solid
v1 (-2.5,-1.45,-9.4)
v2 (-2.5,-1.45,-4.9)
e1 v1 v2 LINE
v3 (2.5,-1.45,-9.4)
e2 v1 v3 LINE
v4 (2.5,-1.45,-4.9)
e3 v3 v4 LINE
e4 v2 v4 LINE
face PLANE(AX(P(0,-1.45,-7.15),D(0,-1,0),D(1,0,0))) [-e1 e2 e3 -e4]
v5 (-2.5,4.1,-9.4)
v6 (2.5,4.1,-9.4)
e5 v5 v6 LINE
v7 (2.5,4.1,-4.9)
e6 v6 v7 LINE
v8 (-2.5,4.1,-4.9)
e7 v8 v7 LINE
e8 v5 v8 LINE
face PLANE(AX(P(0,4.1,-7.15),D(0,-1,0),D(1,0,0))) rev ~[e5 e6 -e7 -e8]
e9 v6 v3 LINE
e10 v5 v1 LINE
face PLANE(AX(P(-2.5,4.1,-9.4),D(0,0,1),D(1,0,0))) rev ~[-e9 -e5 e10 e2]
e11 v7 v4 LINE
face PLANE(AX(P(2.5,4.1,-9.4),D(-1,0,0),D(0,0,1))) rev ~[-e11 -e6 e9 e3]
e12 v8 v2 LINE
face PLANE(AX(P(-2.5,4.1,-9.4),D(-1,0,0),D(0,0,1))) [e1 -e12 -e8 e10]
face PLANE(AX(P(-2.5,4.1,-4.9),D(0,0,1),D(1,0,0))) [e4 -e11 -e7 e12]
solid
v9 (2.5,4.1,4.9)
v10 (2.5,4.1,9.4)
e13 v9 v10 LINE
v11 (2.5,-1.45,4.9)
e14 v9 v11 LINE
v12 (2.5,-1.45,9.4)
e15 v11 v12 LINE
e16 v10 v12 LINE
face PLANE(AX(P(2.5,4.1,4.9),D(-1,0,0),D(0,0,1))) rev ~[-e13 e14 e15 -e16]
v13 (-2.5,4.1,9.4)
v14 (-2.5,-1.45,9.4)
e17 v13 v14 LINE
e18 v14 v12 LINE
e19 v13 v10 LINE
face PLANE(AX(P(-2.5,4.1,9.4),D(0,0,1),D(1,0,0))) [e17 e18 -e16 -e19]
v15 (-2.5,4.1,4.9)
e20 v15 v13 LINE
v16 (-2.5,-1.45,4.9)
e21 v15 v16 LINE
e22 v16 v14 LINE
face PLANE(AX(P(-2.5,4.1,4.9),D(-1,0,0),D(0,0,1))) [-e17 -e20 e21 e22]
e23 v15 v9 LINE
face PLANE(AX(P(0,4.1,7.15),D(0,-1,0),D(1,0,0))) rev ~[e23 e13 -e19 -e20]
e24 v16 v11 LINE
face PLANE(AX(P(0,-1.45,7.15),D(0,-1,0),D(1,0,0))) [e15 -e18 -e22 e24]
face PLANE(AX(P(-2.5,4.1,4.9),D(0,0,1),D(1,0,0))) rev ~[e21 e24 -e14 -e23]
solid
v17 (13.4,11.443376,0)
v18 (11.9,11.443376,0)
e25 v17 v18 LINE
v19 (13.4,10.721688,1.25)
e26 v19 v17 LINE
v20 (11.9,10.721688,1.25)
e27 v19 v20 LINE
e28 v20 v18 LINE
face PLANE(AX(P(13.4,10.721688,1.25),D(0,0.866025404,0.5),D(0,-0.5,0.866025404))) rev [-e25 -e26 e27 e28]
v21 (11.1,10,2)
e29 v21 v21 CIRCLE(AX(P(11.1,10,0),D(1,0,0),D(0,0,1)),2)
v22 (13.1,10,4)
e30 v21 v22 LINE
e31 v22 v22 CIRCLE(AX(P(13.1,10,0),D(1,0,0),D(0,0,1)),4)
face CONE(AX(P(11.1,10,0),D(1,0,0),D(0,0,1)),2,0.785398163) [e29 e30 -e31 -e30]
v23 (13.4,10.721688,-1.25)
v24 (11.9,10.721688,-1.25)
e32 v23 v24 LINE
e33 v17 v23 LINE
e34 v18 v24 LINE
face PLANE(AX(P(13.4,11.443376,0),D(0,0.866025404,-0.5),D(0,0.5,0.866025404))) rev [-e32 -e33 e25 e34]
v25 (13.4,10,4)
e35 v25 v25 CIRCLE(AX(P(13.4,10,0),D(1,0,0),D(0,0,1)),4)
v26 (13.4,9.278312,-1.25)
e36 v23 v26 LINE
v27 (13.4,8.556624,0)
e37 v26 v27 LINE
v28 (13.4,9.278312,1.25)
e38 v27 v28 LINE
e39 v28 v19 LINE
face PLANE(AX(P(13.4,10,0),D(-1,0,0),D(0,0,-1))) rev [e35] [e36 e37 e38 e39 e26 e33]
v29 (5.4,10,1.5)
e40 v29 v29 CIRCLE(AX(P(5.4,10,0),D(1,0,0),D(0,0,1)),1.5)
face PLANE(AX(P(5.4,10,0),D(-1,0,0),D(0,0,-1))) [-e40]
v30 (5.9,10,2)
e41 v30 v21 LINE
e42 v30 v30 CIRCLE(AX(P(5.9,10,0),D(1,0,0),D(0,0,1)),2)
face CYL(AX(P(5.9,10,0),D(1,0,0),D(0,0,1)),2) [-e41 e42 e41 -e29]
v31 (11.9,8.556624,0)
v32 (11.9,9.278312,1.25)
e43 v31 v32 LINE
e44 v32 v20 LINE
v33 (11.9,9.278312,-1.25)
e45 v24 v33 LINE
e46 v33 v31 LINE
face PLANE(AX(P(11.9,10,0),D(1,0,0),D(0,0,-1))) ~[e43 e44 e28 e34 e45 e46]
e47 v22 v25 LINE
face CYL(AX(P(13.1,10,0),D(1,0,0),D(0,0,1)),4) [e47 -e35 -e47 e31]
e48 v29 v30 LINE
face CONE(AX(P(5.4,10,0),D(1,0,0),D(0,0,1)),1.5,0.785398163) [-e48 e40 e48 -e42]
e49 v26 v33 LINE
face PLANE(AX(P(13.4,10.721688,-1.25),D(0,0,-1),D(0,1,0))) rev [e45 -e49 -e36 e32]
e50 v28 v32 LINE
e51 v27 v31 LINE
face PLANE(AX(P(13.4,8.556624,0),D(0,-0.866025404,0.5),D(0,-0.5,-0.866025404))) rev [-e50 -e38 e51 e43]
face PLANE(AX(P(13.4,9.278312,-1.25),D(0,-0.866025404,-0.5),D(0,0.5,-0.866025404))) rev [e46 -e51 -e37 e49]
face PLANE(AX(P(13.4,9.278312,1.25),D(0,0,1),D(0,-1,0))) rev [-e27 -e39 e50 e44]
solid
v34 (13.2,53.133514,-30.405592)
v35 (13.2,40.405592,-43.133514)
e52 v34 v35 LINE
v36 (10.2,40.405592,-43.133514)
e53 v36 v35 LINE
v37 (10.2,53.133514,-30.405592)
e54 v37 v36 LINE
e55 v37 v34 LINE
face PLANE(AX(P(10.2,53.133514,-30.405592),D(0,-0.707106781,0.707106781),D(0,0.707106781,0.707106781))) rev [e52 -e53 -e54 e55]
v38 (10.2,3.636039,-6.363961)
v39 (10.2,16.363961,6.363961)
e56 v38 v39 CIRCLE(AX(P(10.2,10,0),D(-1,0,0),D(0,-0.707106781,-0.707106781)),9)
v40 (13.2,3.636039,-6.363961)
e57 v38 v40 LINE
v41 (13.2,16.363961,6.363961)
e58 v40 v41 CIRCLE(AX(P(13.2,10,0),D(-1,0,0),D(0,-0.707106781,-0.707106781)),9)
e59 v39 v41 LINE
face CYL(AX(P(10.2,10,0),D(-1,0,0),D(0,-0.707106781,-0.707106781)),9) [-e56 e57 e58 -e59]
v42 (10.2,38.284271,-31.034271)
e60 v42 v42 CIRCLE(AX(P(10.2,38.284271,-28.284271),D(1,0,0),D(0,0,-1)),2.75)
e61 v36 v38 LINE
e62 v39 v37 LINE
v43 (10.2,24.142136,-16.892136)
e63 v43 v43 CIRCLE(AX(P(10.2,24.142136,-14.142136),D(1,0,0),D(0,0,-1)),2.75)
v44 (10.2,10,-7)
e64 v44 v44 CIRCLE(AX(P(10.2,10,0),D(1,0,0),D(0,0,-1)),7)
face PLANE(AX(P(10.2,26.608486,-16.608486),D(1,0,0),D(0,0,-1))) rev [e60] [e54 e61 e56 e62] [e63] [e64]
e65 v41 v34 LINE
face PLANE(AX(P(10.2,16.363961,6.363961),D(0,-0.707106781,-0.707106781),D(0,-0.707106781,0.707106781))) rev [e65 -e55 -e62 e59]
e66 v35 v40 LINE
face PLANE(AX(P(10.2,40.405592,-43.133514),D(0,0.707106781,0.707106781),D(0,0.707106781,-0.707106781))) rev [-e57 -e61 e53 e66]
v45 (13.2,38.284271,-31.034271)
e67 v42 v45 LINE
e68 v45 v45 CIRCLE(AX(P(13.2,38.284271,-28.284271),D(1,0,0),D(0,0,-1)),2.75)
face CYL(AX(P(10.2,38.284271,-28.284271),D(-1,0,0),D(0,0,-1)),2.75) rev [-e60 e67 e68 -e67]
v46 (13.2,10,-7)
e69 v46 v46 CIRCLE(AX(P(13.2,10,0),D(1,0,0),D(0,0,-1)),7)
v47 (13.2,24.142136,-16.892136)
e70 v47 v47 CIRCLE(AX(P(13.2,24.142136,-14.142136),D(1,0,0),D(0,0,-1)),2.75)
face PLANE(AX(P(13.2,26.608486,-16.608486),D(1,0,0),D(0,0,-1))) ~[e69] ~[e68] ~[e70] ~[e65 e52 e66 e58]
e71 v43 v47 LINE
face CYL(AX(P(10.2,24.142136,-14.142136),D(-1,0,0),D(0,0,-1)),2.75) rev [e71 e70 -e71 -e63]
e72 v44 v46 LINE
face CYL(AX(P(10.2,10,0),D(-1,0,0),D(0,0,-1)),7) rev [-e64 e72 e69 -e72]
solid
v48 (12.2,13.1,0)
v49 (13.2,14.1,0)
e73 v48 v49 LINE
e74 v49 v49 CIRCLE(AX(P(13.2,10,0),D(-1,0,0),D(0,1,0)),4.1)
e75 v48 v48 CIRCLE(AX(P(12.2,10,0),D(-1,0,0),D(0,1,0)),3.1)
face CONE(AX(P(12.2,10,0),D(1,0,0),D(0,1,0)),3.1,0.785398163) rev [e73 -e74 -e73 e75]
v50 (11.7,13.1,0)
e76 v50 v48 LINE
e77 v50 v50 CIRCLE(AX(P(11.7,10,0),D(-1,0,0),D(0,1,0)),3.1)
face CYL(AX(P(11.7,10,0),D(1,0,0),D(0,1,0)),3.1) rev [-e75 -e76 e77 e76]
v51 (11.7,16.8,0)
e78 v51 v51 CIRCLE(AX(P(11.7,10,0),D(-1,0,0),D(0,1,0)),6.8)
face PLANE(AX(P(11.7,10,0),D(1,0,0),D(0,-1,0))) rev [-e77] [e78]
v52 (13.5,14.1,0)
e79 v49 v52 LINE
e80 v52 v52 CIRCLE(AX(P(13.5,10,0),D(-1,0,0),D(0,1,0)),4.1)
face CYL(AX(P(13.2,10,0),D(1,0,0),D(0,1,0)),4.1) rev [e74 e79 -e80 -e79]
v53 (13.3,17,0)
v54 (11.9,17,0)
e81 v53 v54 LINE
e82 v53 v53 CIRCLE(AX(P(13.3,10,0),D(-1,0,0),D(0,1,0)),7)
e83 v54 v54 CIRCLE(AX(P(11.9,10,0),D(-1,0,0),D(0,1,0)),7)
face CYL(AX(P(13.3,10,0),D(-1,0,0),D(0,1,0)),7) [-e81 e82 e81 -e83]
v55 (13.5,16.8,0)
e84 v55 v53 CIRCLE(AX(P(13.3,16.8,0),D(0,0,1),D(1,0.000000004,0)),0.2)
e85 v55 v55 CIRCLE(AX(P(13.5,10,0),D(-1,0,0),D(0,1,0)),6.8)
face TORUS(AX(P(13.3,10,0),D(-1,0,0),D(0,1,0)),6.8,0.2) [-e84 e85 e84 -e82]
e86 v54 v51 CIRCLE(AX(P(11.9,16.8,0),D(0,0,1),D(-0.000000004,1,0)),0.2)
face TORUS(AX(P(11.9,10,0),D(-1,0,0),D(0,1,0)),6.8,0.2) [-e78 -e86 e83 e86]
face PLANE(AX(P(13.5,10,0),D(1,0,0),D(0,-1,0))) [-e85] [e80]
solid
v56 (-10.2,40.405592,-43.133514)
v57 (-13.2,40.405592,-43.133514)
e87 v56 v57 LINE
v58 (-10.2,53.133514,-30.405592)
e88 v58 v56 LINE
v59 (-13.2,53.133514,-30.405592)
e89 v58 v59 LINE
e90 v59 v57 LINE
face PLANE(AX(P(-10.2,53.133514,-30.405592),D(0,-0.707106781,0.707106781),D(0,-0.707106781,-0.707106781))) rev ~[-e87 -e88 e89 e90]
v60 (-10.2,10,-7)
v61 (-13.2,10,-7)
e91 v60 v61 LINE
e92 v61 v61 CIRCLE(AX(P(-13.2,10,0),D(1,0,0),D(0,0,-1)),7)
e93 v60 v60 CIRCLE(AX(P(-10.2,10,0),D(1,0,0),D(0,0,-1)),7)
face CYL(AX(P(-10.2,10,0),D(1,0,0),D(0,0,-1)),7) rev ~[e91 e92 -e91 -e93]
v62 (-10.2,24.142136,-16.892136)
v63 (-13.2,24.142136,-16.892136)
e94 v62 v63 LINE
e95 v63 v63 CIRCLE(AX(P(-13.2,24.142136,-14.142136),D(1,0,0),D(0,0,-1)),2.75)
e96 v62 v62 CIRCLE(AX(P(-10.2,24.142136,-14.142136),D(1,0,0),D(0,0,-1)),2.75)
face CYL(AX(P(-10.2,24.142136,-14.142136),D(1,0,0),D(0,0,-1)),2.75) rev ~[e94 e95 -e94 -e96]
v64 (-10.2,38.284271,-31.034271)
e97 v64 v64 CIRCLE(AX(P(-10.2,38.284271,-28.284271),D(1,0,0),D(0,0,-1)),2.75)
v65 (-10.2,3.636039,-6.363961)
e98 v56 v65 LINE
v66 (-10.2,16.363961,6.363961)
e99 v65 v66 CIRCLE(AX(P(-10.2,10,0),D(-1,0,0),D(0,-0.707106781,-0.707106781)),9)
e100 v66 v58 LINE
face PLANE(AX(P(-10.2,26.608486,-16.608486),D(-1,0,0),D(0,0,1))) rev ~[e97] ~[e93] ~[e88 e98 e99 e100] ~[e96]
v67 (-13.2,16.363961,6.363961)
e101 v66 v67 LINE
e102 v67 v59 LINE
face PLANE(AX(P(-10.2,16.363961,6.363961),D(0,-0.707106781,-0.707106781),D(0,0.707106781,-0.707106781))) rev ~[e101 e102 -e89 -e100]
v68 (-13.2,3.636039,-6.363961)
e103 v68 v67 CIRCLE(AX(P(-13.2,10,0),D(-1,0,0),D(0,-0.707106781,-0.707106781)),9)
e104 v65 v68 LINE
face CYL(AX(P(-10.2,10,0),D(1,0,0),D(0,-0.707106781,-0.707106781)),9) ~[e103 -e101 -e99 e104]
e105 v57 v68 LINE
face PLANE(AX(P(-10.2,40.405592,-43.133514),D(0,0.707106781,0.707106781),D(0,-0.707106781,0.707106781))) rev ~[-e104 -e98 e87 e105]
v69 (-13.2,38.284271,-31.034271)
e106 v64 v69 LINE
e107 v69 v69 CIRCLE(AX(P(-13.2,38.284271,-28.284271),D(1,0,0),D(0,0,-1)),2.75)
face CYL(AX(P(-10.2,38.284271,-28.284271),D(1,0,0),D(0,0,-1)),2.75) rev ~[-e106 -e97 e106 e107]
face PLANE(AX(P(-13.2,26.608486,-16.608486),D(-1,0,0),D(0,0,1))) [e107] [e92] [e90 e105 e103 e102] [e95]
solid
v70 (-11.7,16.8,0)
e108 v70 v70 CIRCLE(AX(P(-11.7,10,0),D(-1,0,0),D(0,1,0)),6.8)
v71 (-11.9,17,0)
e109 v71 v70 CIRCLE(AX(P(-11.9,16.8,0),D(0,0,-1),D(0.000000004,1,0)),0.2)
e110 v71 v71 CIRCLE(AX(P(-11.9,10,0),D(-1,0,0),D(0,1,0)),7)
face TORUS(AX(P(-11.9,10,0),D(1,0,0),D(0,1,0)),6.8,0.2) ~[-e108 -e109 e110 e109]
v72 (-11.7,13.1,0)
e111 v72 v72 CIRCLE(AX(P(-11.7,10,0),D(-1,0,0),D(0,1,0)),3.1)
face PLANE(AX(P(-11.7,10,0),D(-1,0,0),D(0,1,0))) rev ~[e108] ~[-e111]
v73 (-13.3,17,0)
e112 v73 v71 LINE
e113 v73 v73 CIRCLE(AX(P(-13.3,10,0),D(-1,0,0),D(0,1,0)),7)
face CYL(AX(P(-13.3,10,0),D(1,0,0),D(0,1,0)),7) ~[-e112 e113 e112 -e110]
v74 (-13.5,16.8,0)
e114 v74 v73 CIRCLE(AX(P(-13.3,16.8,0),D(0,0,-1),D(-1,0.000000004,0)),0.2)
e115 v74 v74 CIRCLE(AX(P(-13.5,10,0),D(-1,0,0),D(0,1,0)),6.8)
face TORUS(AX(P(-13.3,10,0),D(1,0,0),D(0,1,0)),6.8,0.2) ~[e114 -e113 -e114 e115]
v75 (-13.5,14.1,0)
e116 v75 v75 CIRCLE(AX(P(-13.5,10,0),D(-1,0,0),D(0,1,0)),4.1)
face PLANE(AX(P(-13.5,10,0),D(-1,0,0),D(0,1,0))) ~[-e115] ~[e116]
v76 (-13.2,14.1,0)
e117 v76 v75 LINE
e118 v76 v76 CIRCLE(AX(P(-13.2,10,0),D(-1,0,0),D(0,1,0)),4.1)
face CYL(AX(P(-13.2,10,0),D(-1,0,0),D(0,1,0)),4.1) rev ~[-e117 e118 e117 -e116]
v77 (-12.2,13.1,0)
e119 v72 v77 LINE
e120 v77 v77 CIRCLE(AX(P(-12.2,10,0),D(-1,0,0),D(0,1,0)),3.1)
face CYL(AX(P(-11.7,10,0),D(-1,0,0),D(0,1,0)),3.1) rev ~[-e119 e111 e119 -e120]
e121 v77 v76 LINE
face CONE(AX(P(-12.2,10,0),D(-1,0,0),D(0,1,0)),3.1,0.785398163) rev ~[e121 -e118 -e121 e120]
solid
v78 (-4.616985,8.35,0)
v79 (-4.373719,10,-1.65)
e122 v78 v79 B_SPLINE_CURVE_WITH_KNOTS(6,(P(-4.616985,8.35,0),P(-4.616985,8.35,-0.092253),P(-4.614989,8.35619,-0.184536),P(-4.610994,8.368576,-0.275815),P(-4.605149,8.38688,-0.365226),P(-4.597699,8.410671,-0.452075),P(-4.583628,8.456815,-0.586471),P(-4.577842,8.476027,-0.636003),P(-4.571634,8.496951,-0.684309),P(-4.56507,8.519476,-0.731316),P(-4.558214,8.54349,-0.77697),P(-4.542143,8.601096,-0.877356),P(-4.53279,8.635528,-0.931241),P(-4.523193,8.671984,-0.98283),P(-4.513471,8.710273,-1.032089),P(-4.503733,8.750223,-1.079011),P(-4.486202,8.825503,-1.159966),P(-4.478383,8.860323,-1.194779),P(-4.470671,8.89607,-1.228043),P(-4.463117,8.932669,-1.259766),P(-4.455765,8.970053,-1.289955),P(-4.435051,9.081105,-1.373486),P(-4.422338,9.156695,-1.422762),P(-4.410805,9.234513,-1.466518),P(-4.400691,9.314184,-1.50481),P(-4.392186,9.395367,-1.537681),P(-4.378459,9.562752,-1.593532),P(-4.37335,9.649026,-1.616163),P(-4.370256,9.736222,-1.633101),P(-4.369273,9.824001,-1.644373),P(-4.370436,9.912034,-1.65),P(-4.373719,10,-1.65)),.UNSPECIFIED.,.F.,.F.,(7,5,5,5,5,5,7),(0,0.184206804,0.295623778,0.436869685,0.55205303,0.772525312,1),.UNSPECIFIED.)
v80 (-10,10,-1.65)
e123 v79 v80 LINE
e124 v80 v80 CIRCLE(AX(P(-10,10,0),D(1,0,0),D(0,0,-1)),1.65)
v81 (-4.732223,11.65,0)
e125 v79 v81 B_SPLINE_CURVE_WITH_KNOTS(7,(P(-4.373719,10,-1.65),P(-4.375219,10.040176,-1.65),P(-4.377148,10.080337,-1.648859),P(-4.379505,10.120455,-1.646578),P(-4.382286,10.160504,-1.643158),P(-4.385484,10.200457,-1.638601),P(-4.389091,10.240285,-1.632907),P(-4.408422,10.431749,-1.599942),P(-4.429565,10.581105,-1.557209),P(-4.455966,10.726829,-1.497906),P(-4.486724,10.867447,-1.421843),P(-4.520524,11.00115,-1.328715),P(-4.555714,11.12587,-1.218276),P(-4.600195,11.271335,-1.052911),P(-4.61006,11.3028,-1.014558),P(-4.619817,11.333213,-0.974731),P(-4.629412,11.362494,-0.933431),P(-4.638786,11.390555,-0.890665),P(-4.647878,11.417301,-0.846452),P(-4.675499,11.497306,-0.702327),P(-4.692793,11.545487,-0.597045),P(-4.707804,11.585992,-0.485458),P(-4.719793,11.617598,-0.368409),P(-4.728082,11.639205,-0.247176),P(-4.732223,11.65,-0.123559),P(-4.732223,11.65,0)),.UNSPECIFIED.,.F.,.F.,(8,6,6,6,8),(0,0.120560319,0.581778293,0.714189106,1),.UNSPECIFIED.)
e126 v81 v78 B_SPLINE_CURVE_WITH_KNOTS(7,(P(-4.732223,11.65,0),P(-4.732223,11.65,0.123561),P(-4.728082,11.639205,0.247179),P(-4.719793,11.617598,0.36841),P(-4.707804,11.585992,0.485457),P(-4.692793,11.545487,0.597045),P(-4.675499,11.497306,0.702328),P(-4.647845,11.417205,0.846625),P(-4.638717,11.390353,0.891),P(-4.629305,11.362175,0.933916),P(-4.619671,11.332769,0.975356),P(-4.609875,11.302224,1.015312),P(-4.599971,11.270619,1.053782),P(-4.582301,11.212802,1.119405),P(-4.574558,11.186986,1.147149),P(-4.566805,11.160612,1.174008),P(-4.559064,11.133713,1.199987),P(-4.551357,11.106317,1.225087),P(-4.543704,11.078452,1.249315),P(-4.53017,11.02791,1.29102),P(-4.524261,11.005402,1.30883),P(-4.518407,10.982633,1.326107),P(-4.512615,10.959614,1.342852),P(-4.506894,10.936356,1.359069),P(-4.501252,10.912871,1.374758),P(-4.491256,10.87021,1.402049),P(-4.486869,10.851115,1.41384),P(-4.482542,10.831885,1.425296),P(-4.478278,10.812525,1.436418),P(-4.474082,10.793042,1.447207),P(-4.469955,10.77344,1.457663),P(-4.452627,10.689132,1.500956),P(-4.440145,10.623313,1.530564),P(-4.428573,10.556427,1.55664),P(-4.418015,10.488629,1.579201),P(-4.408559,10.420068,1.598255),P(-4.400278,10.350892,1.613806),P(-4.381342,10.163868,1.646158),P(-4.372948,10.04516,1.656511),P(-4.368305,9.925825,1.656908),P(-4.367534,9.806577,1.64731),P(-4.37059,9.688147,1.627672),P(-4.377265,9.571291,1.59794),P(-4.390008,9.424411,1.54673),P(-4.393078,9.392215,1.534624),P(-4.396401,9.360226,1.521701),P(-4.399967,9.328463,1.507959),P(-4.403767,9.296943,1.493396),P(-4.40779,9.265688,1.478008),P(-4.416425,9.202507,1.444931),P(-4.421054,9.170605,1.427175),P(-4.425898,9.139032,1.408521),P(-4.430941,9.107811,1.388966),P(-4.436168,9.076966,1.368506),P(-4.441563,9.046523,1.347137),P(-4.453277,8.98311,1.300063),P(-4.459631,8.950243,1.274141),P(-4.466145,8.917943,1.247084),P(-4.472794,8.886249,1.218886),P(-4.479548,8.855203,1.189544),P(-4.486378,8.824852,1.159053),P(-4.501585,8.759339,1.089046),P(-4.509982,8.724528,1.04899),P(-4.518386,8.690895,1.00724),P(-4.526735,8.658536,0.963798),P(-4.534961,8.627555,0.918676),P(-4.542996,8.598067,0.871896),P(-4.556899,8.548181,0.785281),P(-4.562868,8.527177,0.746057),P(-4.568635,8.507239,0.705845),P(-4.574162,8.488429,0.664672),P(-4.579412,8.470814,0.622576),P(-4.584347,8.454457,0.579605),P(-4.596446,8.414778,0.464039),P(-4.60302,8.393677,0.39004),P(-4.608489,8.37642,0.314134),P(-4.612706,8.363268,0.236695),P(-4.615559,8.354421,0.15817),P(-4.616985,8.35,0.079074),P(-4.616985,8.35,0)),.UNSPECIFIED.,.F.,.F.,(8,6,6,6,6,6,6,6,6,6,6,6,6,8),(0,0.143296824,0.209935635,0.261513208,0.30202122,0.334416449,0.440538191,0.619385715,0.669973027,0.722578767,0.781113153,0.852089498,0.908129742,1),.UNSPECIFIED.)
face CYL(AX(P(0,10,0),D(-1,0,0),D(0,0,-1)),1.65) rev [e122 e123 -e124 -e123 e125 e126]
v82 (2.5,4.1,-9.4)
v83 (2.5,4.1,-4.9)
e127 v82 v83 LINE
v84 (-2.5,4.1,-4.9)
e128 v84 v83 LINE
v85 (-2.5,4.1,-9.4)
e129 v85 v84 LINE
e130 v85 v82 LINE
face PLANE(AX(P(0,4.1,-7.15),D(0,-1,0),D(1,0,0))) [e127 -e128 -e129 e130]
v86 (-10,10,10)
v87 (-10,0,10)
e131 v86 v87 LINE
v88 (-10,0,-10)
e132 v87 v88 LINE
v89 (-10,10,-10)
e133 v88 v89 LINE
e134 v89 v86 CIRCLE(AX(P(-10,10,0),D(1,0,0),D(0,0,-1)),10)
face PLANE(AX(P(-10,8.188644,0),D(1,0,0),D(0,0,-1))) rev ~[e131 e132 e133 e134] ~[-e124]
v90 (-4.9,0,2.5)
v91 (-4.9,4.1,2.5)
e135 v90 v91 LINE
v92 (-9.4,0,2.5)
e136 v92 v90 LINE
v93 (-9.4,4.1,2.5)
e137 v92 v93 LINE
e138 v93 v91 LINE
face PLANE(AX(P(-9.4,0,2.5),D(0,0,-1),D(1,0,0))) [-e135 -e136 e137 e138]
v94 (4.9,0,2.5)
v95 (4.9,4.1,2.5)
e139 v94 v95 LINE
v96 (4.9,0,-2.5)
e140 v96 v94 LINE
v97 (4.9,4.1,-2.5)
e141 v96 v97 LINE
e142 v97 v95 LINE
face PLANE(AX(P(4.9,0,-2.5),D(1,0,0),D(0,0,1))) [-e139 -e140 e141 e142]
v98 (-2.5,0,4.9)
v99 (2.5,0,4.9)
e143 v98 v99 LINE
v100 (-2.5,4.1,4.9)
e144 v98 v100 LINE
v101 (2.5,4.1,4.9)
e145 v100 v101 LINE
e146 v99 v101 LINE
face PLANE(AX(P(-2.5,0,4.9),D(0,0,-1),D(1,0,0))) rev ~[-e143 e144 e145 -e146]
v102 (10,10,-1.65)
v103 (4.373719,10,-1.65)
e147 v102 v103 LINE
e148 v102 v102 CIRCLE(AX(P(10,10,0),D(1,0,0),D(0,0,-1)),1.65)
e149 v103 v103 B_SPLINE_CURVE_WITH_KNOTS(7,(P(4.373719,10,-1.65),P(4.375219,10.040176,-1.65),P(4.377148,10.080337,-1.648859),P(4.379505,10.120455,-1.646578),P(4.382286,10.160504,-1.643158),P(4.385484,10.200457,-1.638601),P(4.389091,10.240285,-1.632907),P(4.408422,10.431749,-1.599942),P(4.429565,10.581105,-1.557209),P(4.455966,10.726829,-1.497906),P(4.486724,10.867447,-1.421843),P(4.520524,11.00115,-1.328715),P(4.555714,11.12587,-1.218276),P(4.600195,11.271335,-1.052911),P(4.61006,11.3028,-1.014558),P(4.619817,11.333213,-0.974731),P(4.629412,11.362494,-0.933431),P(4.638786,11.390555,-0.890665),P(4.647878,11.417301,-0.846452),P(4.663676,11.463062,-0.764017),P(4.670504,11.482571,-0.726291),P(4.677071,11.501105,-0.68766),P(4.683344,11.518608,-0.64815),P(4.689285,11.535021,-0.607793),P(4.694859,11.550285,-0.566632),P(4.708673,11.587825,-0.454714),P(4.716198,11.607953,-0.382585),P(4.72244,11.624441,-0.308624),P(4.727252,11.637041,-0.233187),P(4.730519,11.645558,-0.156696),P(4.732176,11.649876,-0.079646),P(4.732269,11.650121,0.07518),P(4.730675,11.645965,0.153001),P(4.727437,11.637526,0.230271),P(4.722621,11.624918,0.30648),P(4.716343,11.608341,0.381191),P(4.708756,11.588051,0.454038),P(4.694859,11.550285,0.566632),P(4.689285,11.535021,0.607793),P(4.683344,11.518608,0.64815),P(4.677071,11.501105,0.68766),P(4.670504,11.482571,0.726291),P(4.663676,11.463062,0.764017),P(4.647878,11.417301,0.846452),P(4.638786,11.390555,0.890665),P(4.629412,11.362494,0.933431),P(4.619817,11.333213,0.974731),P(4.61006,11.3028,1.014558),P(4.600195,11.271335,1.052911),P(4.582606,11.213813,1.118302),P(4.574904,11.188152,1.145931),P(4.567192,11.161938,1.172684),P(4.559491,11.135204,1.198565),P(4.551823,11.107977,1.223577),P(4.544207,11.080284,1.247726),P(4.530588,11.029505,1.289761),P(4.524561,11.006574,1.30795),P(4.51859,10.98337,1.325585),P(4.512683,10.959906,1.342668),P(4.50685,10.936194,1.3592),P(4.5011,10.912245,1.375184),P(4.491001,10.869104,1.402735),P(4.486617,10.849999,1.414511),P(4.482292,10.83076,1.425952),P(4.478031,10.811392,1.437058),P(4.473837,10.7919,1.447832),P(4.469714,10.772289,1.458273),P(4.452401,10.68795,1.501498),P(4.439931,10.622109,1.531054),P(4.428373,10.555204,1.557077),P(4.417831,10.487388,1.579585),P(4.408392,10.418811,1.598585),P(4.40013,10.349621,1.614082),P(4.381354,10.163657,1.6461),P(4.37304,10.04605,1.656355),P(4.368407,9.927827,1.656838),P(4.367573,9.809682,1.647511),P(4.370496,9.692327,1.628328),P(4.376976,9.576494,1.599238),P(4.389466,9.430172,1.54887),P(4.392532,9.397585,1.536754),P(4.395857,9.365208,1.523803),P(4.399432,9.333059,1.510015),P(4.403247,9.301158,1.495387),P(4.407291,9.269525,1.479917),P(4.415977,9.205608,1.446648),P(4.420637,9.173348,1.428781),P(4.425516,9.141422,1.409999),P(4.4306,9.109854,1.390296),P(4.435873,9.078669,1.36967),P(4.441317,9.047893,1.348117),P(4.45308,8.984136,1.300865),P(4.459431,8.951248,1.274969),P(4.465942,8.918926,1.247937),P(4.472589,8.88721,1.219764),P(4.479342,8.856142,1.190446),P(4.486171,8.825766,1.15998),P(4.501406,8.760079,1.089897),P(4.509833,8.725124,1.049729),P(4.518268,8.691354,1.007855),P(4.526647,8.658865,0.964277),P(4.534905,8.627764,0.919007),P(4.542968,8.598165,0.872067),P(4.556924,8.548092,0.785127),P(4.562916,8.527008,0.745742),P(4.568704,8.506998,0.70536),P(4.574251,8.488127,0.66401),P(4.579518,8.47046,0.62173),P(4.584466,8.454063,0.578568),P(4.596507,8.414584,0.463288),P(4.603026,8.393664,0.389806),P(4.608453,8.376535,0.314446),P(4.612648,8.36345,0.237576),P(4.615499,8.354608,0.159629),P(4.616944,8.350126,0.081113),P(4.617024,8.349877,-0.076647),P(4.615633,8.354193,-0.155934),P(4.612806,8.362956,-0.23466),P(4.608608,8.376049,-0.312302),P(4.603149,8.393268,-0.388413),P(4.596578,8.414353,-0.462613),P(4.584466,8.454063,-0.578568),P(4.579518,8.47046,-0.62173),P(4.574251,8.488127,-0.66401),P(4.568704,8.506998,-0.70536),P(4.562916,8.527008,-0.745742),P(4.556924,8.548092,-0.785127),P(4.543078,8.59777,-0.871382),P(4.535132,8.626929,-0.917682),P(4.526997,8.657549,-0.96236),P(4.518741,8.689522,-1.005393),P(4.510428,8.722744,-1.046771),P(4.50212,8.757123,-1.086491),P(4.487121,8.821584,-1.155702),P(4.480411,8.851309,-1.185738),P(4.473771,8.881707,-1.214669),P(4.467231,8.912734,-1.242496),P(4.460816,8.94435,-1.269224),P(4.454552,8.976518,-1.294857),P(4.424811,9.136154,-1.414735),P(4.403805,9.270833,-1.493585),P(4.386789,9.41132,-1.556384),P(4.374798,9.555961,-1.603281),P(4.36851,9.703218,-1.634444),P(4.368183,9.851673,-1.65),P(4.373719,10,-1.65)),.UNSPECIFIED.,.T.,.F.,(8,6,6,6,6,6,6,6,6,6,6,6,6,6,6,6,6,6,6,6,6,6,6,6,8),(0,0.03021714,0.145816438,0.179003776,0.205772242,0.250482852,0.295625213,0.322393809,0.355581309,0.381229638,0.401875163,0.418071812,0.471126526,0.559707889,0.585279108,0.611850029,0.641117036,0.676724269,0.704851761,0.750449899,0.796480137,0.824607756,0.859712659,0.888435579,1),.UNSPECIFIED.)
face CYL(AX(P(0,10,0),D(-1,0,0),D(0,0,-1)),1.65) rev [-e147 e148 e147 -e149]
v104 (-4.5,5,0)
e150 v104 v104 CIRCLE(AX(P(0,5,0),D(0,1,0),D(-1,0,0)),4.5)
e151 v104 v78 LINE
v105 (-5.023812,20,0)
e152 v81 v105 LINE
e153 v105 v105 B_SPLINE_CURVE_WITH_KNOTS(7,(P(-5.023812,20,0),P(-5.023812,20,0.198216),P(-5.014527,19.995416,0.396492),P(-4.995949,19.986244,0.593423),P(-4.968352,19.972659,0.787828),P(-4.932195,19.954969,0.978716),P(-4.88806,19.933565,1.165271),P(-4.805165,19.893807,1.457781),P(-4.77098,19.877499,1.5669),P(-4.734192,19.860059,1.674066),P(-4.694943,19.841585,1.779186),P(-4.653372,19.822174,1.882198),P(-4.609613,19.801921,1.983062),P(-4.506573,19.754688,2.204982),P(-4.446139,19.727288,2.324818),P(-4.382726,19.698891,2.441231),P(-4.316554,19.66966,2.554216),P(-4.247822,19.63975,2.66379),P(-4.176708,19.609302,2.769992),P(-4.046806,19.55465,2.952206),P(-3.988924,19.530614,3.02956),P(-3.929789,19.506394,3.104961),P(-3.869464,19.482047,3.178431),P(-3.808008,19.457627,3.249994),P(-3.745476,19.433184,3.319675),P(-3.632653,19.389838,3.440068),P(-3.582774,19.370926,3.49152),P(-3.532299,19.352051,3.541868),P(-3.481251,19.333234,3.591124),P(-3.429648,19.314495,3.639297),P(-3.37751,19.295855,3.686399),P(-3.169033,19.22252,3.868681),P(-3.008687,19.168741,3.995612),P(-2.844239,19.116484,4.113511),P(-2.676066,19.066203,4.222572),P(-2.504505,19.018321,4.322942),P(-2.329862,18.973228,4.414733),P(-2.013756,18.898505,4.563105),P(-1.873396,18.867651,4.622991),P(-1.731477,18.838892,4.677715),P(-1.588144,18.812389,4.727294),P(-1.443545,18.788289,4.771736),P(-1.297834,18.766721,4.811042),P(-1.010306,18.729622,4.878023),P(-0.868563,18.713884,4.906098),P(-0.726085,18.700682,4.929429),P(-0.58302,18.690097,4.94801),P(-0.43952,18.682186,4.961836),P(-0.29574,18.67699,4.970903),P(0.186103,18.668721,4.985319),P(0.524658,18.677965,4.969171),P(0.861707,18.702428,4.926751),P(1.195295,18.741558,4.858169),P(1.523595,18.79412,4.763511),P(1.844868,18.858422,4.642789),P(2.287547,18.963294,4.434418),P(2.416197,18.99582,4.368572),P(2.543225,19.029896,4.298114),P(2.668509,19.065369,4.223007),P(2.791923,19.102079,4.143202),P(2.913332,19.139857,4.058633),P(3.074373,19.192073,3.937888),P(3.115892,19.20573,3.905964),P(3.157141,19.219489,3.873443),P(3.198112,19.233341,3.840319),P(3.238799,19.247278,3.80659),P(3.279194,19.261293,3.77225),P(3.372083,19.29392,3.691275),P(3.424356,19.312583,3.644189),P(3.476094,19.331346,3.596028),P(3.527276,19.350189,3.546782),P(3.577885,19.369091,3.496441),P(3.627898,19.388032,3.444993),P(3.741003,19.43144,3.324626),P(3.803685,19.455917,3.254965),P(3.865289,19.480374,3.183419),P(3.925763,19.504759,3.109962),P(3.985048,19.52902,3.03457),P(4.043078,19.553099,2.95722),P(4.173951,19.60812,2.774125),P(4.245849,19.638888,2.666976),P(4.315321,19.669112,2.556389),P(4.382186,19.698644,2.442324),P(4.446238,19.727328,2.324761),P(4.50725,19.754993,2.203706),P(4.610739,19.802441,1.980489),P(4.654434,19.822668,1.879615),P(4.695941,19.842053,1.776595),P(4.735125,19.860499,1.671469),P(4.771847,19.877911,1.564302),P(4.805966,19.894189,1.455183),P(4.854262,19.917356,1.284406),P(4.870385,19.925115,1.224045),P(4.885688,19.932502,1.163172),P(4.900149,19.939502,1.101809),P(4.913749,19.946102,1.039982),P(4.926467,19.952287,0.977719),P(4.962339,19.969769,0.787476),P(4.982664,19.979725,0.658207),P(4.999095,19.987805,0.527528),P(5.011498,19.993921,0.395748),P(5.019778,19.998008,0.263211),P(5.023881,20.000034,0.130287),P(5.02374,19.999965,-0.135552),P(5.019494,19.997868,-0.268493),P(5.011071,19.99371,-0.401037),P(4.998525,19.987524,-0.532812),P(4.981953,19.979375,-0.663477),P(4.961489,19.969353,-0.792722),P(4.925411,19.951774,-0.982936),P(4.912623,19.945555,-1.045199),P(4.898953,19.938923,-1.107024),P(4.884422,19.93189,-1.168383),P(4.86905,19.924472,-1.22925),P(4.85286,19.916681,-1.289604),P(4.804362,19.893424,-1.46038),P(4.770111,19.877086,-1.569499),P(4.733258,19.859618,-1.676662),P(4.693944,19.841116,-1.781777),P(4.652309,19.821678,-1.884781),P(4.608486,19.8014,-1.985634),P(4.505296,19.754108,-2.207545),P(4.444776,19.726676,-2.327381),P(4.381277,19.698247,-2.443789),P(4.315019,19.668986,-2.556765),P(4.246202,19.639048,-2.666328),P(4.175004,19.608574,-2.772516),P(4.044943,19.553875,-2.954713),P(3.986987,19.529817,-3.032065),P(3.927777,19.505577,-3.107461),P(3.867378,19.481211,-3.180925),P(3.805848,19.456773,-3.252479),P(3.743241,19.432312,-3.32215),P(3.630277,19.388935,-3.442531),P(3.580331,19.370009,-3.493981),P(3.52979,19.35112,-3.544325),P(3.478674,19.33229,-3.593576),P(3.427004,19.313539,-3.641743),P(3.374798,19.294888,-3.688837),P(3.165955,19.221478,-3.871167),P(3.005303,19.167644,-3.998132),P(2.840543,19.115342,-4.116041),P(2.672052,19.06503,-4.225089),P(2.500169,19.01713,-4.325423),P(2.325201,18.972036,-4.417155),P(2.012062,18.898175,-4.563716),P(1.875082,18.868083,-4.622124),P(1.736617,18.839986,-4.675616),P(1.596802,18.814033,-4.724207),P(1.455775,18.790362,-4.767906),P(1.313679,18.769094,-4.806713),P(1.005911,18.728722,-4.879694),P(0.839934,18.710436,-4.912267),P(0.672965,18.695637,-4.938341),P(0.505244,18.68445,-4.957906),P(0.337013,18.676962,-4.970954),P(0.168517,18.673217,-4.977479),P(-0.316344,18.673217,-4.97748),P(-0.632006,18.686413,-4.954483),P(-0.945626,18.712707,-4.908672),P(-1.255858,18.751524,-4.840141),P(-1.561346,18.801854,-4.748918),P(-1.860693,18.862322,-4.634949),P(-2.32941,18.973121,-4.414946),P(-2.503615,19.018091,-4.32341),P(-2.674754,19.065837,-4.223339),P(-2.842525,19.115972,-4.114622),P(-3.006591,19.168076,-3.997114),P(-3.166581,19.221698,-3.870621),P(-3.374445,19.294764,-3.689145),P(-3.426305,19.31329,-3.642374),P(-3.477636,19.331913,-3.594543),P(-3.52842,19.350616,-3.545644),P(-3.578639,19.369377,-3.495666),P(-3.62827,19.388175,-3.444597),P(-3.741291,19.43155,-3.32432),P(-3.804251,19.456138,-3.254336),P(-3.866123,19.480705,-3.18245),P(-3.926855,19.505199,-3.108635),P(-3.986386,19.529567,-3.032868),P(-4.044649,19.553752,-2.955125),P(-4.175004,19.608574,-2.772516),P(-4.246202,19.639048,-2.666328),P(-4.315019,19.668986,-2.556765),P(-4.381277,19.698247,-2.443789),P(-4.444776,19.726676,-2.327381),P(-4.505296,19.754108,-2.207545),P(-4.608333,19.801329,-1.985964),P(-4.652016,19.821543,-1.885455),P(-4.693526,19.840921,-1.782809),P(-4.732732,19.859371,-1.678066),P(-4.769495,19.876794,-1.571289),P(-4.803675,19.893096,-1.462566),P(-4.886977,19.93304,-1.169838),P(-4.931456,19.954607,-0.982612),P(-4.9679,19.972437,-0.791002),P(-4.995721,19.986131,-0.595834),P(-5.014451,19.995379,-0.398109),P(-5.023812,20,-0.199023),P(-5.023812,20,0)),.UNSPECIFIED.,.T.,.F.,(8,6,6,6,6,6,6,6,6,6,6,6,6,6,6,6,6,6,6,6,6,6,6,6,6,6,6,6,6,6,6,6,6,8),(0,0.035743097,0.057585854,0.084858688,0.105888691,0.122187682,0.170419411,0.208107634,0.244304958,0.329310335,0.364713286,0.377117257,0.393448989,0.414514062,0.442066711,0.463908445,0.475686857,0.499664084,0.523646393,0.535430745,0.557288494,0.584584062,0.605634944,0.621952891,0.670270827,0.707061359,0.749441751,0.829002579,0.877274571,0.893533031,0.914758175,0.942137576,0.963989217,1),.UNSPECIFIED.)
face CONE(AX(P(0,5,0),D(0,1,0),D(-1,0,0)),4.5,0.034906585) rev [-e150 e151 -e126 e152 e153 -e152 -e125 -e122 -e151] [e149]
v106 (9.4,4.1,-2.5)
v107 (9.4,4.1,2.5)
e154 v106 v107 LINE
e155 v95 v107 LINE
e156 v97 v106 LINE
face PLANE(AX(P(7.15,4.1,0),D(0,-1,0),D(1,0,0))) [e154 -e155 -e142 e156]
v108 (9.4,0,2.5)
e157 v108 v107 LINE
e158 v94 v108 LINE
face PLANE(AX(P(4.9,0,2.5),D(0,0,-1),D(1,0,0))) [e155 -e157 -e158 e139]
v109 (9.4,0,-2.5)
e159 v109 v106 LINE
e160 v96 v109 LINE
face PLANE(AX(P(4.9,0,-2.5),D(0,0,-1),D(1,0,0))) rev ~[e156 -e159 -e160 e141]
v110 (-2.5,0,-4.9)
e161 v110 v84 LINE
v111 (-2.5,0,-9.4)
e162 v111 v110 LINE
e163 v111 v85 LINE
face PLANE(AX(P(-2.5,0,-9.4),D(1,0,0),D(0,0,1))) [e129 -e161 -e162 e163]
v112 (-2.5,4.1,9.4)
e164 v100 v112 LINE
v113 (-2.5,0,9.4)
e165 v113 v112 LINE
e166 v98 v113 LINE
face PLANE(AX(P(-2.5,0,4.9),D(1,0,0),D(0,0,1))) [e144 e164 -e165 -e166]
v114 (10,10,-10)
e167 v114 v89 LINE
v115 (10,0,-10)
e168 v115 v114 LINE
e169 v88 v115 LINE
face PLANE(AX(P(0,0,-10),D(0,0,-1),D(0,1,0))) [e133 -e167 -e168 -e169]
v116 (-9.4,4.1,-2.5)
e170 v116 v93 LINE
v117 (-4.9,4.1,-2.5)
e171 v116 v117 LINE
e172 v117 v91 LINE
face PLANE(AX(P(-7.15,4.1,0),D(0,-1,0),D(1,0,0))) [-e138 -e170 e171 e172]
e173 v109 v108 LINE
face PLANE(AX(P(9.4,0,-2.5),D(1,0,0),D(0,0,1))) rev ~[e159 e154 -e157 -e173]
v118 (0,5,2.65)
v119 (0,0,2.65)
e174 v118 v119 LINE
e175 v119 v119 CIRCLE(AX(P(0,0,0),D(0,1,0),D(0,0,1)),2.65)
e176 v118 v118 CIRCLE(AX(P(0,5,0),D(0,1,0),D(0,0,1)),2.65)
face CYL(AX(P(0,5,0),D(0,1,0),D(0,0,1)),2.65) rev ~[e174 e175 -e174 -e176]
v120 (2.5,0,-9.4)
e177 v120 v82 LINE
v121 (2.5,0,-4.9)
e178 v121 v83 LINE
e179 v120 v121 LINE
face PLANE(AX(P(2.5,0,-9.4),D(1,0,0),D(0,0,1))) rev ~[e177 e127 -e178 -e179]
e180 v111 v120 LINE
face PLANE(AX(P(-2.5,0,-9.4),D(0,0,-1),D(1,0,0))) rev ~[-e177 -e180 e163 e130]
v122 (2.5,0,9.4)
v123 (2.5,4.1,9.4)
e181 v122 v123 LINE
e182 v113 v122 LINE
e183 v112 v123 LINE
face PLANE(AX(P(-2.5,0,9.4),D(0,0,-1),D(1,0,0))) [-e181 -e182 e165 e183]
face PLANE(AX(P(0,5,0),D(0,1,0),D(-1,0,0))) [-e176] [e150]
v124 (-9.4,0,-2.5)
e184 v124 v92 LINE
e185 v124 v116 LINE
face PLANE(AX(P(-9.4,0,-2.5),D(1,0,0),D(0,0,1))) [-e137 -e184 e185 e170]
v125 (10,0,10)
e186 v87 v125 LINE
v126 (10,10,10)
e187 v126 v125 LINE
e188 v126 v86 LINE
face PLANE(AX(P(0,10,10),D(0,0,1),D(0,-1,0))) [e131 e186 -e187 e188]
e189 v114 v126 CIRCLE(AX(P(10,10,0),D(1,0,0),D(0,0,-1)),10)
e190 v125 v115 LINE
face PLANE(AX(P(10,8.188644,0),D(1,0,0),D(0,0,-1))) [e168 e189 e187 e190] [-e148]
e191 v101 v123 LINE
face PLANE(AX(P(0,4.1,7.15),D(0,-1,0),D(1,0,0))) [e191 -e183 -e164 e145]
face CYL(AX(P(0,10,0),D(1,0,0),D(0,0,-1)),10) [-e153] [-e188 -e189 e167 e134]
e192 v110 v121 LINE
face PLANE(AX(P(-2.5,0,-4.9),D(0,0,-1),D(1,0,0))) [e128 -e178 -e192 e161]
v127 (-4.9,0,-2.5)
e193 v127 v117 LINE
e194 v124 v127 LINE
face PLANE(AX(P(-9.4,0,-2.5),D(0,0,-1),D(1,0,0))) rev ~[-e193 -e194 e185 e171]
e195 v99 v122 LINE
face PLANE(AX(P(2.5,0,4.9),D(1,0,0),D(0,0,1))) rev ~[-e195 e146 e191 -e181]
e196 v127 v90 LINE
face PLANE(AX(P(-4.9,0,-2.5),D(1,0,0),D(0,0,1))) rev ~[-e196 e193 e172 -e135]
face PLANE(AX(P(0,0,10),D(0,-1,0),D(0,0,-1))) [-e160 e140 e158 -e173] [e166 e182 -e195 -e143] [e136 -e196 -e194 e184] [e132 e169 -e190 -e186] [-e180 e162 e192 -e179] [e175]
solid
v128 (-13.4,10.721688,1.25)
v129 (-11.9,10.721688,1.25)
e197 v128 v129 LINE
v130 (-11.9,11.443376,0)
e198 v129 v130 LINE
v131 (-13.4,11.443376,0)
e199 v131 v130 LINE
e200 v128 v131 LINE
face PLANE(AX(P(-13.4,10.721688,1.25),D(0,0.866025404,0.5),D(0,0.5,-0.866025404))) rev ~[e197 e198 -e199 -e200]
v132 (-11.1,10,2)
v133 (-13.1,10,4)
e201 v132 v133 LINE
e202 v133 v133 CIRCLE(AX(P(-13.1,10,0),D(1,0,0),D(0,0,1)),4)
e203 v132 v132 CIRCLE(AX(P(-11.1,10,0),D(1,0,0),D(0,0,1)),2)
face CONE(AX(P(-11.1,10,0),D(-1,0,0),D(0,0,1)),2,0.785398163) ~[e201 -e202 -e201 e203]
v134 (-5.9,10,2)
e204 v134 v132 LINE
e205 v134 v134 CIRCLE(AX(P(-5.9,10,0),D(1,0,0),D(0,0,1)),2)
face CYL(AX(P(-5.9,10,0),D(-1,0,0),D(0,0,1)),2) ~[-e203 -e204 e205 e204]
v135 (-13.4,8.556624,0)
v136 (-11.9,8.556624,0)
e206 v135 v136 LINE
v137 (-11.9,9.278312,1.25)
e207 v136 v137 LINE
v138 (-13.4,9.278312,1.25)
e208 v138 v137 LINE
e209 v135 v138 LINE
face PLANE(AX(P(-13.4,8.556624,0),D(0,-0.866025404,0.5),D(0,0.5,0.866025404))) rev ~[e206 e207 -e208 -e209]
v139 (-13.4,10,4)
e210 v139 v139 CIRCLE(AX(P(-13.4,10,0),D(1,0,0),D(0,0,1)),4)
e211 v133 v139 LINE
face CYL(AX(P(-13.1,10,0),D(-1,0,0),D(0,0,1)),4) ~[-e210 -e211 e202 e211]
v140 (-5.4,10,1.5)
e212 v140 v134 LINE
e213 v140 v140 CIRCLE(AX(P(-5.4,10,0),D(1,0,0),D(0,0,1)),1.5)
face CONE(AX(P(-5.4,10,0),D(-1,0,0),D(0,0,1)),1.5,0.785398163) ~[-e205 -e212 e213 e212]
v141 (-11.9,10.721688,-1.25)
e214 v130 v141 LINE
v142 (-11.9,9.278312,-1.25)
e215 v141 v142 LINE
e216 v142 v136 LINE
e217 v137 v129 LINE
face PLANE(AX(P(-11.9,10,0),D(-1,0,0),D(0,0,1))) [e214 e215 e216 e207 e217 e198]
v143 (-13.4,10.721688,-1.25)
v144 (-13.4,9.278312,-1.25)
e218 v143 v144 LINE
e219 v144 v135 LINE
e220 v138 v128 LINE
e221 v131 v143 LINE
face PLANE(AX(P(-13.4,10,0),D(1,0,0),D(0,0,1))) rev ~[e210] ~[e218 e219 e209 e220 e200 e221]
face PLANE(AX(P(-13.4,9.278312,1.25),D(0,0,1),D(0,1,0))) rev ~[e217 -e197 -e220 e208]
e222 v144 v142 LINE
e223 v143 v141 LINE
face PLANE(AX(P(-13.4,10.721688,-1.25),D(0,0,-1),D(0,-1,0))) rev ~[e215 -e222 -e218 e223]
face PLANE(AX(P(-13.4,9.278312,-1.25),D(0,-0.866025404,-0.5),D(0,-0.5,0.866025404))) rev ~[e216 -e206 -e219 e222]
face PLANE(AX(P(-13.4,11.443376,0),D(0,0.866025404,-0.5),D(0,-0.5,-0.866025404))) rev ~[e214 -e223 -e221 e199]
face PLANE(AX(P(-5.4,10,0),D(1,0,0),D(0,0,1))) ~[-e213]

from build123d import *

# Parameters (mm, degrees)
SKETCH1_R                  = 1.65
BOSS_EXTRUDE1_DEPTH        = 10
SKETCH2_R                  = 4.5
CUT_EXTRUDE1_DEPTH         = 21.615528128
CUT_EXTRUDE1_DRAFT         = -2
SKETCH3_R                  = 2.65
CUT_EXTRUDE2_DEPTH         = 21.615528298
SKETCH4_W                  = 5
SKETCH4_H                  = 4.5
SKETCH4_W_2                = 4.5
SKETCH4_H_2                = 5
CUT_EXTRUDE3_DEPTH         = 4.1
BOSS_EXTRUDE2_DEPTH        = 1.45
BOSS_EXTRUDE2_DEPTH_BACK   = 4.1
SKETCH5_W                  = 5
SKETCH5_H                  = 4.5
BOSS_EXTRUDE2_2_DEPTH      = 1.45
BOSS_EXTRUDE2_2_DEPTH_BACK = 4.1
BOSS_EXTRUDE3_START        = -10.2
SKETCH6_R                  = 2.75
SKETCH6_R_2                = 7
BOSS_EXTRUDE3_DEPTH        = 3
CUT_EXTRUDE4_DEPTH         = 1.5


with BuildPart() as part:
    # Sketch1 → Boss-Extrude1 (new, symmetric)
    with BuildSketch(Plane(origin=(0, 0, 0), x_dir=(0, 0, -1), z_dir=(1, 0, 0))):
        with BuildLine():
            Line((-10, 10), (-10, 0))
            Line((-10, 0), (10, 0))
            Line((10, 0), (10, 10))
            ThreePointArc((10, 10), (0, 20), (-10, 10))
        make_face()
        with Locations((0, 10)):
            Circle(SKETCH1_R, mode=Mode.SUBTRACT)
    extrude(amount=BOSS_EXTRUDE1_DEPTH, both=True)


with BuildPart() as cut_extrude1_tool:
    # Sketch2 → Cut-Extrude1 (with draft: the straight prism first)
    with BuildSketch(Plane(origin=(0, 5, 0), x_dir=(-1, 0, 0), z_dir=(0, 1, 0))):
        Circle(SKETCH2_R)
    extrude(amount=CUT_EXTRUDE1_DEPTH)
    # Cut-Extrude1: the draft: its side faces are tilted about the plane it starts from
    cut_extrude1_sides = [cut_extrude1_tool.faces().sort_by_distance(p)[0] for p in [
        (4.5, 15.807764064, 0),
    ]]
    draft(cut_extrude1_sides, Plane(origin=(0, 5, 0), x_dir=(-1, 0, 0), z_dir=(0, 1, 0)), CUT_EXTRUDE1_DRAFT)


with BuildPart() as part_1:
    add(part.part)

    # Cut-Extrude1: cut by cut_extrude1_tool
    add(cut_extrude1_tool.part, mode=Mode.SUBTRACT)

    # Sketch3 → Cut-Extrude2 (cut, through all)
    with BuildSketch(Plane(origin=(0, 5, 0), x_dir=(1, 0, 0), z_dir=(0, 1, 0))):
        with Locations(Location((0, 0, 0), (0, 0, 270))):
            Circle(SKETCH3_R)
    extrude(amount=-CUT_EXTRUDE2_DEPTH, mode=Mode.SUBTRACT)

    # Sketch4 → Cut-Extrude3 (cut)
    with BuildSketch(Plane.XZ):
        with Locations((0, 7.15)):
            Rectangle(SKETCH4_W, SKETCH4_H)
        with Locations((0, -7.15)):
            Rectangle(SKETCH4_W, SKETCH4_H)
        with Locations((-7.15, 0)):
            Rectangle(SKETCH4_W_2, SKETCH4_H_2)
        with Locations((7.15, 0)):
            Rectangle(SKETCH4_W_2, SKETCH4_H_2)
    extrude(amount=-CUT_EXTRUDE3_DEPTH, mode=Mode.SUBTRACT)


with BuildPart() as body_2:
    # Sketch5 → Boss-Extrude2 (new, two sides: drawn at the far end of the back side and taken through both)
    with BuildSketch(Plane.XZ.offset(-BOSS_EXTRUDE2_DEPTH_BACK)):
        with Locations((0, 7.15)):
            Rectangle(SKETCH5_W, SKETCH5_H)
    extrude(amount=BOSS_EXTRUDE2_DEPTH + BOSS_EXTRUDE2_DEPTH_BACK)


with BuildPart() as body_3:
    # Sketch5 → Boss-Extrude2 2 (new, two sides: drawn at the far end of the back side and taken through both)
    with BuildSketch(Plane.XZ.offset(-BOSS_EXTRUDE2_2_DEPTH_BACK)):
        with Locations((0, -7.15)):
            Rectangle(SKETCH5_W, SKETCH5_H)
    extrude(amount=BOSS_EXTRUDE2_2_DEPTH + BOSS_EXTRUDE2_2_DEPTH_BACK)


with BuildPart() as body_4:
    # Sketch6 → Boss-Extrude3 (new body)
    with BuildSketch(Plane(origin=(0, 0, 0), x_dir=(0, 0, -1), z_dir=(1, 0, 0)).offset(BOSS_EXTRUDE3_START)):
        with BuildLine():
            Line((30.405591591, 53.133513652), (43.133513652, 40.405591591))
            Line((43.133513652, 40.405591591), (6.363961031, 3.636038969))
            ThreePointArc((6.363961031, 3.636038969), (-6.363961031, 3.636038969), (-6.363961031, 16.363961031))
            Line((-6.363961031, 16.363961031), (30.405591591, 53.133513652))
        make_face()
        with Locations((28.284271247, 38.284271247)):
            Circle(SKETCH6_R, mode=Mode.SUBTRACT)
        with Locations((14.142135624, 24.142135624)):
            Circle(SKETCH6_R, mode=Mode.SUBTRACT)
        with Locations((0, 10)):
            Circle(SKETCH6_R_2, mode=Mode.SUBTRACT)
    extrude(amount=-BOSS_EXTRUDE3_DEPTH)


with BuildPart() as body_5:
    # Sketch7 → Revolve1 (revolve)
    with BuildSketch(Plane.XY, mode=Mode.PRIVATE) as revolve1_sk:
        Polygon((-5.4, 10), (-5.4, 11.5), (-5.9, 12), (-11.1, 12), (-13.1, 14), (-13.4, 14), (-13.4, 10), align=None)
    revolve(revolve1_sk.sketch.rotate(Axis((-5.4, 10, 0), (1, 0, 0)), 90), axis=Axis((-5.4, 10, 0), (1, 0, 0)))

    # Sketch9 → Cut-Extrude4 (cut)
    with BuildSketch(Plane.ZY.offset(13.4)):
        Polygon((0, 11.443375673), (-1.25, 10.721687836), (-1.25, 9.278312164), (0, 8.556624327), (1.25, 9.278312164), (1.25, 10.721687836), align=None)
    extrude(amount=-CUT_EXTRUDE4_DEPTH, mode=Mode.SUBTRACT)


with BuildPart() as body_6:
    # Sketch8 → Revolve2 (revolve)
    with BuildSketch(Plane.XY):
        with BuildLine():
            Line((-13.3, 17), (-11.9, 17))
            ThreePointArc((-11.9, 17), (-11.758578644, 16.941421356), (-11.7, 16.8))
            Line((-11.7, 16.8), (-11.7, 13.1))
            Line((-11.7, 13.1), (-12.2, 13.1))
            Line((-12.2, 13.1), (-13.2, 14.1))
            Line((-13.2, 14.1), (-13.5, 14.1))
            Line((-13.5, 14.1), (-13.5, 16.8))
            ThreePointArc((-13.5, 16.8), (-13.441421356, 16.941421356), (-13.3, 17))
        make_face()
    revolve(axis=Axis((0, 10, 0), (-1, 0, 0)))


with BuildPart() as body_7:
    # Mirror1: mirrored copy
    add(body_4.part.mirror(Plane(origin=(0, 0, 0), x_dir=(0, 0, 1), z_dir=(1, 0, 0))))


with BuildPart() as body_8:
    # Mirror1 2: mirrored copy
    add(body_5.part.mirror(Plane(origin=(0, 0, 0), x_dir=(0, 0, 1), z_dir=(1, 0, 0))))


with BuildPart() as body_9:
    # Mirror1 3: mirrored copy
    add(body_6.part.mirror(Plane(origin=(0, 0, 0), x_dir=(0, 0, 1), z_dir=(1, 0, 0))))


solid = Compound([part_1.part, body_2.part, body_3.part, body_4.part, body_5.part, body_6.part, body_7.part, body_8.part, body_9.part])
